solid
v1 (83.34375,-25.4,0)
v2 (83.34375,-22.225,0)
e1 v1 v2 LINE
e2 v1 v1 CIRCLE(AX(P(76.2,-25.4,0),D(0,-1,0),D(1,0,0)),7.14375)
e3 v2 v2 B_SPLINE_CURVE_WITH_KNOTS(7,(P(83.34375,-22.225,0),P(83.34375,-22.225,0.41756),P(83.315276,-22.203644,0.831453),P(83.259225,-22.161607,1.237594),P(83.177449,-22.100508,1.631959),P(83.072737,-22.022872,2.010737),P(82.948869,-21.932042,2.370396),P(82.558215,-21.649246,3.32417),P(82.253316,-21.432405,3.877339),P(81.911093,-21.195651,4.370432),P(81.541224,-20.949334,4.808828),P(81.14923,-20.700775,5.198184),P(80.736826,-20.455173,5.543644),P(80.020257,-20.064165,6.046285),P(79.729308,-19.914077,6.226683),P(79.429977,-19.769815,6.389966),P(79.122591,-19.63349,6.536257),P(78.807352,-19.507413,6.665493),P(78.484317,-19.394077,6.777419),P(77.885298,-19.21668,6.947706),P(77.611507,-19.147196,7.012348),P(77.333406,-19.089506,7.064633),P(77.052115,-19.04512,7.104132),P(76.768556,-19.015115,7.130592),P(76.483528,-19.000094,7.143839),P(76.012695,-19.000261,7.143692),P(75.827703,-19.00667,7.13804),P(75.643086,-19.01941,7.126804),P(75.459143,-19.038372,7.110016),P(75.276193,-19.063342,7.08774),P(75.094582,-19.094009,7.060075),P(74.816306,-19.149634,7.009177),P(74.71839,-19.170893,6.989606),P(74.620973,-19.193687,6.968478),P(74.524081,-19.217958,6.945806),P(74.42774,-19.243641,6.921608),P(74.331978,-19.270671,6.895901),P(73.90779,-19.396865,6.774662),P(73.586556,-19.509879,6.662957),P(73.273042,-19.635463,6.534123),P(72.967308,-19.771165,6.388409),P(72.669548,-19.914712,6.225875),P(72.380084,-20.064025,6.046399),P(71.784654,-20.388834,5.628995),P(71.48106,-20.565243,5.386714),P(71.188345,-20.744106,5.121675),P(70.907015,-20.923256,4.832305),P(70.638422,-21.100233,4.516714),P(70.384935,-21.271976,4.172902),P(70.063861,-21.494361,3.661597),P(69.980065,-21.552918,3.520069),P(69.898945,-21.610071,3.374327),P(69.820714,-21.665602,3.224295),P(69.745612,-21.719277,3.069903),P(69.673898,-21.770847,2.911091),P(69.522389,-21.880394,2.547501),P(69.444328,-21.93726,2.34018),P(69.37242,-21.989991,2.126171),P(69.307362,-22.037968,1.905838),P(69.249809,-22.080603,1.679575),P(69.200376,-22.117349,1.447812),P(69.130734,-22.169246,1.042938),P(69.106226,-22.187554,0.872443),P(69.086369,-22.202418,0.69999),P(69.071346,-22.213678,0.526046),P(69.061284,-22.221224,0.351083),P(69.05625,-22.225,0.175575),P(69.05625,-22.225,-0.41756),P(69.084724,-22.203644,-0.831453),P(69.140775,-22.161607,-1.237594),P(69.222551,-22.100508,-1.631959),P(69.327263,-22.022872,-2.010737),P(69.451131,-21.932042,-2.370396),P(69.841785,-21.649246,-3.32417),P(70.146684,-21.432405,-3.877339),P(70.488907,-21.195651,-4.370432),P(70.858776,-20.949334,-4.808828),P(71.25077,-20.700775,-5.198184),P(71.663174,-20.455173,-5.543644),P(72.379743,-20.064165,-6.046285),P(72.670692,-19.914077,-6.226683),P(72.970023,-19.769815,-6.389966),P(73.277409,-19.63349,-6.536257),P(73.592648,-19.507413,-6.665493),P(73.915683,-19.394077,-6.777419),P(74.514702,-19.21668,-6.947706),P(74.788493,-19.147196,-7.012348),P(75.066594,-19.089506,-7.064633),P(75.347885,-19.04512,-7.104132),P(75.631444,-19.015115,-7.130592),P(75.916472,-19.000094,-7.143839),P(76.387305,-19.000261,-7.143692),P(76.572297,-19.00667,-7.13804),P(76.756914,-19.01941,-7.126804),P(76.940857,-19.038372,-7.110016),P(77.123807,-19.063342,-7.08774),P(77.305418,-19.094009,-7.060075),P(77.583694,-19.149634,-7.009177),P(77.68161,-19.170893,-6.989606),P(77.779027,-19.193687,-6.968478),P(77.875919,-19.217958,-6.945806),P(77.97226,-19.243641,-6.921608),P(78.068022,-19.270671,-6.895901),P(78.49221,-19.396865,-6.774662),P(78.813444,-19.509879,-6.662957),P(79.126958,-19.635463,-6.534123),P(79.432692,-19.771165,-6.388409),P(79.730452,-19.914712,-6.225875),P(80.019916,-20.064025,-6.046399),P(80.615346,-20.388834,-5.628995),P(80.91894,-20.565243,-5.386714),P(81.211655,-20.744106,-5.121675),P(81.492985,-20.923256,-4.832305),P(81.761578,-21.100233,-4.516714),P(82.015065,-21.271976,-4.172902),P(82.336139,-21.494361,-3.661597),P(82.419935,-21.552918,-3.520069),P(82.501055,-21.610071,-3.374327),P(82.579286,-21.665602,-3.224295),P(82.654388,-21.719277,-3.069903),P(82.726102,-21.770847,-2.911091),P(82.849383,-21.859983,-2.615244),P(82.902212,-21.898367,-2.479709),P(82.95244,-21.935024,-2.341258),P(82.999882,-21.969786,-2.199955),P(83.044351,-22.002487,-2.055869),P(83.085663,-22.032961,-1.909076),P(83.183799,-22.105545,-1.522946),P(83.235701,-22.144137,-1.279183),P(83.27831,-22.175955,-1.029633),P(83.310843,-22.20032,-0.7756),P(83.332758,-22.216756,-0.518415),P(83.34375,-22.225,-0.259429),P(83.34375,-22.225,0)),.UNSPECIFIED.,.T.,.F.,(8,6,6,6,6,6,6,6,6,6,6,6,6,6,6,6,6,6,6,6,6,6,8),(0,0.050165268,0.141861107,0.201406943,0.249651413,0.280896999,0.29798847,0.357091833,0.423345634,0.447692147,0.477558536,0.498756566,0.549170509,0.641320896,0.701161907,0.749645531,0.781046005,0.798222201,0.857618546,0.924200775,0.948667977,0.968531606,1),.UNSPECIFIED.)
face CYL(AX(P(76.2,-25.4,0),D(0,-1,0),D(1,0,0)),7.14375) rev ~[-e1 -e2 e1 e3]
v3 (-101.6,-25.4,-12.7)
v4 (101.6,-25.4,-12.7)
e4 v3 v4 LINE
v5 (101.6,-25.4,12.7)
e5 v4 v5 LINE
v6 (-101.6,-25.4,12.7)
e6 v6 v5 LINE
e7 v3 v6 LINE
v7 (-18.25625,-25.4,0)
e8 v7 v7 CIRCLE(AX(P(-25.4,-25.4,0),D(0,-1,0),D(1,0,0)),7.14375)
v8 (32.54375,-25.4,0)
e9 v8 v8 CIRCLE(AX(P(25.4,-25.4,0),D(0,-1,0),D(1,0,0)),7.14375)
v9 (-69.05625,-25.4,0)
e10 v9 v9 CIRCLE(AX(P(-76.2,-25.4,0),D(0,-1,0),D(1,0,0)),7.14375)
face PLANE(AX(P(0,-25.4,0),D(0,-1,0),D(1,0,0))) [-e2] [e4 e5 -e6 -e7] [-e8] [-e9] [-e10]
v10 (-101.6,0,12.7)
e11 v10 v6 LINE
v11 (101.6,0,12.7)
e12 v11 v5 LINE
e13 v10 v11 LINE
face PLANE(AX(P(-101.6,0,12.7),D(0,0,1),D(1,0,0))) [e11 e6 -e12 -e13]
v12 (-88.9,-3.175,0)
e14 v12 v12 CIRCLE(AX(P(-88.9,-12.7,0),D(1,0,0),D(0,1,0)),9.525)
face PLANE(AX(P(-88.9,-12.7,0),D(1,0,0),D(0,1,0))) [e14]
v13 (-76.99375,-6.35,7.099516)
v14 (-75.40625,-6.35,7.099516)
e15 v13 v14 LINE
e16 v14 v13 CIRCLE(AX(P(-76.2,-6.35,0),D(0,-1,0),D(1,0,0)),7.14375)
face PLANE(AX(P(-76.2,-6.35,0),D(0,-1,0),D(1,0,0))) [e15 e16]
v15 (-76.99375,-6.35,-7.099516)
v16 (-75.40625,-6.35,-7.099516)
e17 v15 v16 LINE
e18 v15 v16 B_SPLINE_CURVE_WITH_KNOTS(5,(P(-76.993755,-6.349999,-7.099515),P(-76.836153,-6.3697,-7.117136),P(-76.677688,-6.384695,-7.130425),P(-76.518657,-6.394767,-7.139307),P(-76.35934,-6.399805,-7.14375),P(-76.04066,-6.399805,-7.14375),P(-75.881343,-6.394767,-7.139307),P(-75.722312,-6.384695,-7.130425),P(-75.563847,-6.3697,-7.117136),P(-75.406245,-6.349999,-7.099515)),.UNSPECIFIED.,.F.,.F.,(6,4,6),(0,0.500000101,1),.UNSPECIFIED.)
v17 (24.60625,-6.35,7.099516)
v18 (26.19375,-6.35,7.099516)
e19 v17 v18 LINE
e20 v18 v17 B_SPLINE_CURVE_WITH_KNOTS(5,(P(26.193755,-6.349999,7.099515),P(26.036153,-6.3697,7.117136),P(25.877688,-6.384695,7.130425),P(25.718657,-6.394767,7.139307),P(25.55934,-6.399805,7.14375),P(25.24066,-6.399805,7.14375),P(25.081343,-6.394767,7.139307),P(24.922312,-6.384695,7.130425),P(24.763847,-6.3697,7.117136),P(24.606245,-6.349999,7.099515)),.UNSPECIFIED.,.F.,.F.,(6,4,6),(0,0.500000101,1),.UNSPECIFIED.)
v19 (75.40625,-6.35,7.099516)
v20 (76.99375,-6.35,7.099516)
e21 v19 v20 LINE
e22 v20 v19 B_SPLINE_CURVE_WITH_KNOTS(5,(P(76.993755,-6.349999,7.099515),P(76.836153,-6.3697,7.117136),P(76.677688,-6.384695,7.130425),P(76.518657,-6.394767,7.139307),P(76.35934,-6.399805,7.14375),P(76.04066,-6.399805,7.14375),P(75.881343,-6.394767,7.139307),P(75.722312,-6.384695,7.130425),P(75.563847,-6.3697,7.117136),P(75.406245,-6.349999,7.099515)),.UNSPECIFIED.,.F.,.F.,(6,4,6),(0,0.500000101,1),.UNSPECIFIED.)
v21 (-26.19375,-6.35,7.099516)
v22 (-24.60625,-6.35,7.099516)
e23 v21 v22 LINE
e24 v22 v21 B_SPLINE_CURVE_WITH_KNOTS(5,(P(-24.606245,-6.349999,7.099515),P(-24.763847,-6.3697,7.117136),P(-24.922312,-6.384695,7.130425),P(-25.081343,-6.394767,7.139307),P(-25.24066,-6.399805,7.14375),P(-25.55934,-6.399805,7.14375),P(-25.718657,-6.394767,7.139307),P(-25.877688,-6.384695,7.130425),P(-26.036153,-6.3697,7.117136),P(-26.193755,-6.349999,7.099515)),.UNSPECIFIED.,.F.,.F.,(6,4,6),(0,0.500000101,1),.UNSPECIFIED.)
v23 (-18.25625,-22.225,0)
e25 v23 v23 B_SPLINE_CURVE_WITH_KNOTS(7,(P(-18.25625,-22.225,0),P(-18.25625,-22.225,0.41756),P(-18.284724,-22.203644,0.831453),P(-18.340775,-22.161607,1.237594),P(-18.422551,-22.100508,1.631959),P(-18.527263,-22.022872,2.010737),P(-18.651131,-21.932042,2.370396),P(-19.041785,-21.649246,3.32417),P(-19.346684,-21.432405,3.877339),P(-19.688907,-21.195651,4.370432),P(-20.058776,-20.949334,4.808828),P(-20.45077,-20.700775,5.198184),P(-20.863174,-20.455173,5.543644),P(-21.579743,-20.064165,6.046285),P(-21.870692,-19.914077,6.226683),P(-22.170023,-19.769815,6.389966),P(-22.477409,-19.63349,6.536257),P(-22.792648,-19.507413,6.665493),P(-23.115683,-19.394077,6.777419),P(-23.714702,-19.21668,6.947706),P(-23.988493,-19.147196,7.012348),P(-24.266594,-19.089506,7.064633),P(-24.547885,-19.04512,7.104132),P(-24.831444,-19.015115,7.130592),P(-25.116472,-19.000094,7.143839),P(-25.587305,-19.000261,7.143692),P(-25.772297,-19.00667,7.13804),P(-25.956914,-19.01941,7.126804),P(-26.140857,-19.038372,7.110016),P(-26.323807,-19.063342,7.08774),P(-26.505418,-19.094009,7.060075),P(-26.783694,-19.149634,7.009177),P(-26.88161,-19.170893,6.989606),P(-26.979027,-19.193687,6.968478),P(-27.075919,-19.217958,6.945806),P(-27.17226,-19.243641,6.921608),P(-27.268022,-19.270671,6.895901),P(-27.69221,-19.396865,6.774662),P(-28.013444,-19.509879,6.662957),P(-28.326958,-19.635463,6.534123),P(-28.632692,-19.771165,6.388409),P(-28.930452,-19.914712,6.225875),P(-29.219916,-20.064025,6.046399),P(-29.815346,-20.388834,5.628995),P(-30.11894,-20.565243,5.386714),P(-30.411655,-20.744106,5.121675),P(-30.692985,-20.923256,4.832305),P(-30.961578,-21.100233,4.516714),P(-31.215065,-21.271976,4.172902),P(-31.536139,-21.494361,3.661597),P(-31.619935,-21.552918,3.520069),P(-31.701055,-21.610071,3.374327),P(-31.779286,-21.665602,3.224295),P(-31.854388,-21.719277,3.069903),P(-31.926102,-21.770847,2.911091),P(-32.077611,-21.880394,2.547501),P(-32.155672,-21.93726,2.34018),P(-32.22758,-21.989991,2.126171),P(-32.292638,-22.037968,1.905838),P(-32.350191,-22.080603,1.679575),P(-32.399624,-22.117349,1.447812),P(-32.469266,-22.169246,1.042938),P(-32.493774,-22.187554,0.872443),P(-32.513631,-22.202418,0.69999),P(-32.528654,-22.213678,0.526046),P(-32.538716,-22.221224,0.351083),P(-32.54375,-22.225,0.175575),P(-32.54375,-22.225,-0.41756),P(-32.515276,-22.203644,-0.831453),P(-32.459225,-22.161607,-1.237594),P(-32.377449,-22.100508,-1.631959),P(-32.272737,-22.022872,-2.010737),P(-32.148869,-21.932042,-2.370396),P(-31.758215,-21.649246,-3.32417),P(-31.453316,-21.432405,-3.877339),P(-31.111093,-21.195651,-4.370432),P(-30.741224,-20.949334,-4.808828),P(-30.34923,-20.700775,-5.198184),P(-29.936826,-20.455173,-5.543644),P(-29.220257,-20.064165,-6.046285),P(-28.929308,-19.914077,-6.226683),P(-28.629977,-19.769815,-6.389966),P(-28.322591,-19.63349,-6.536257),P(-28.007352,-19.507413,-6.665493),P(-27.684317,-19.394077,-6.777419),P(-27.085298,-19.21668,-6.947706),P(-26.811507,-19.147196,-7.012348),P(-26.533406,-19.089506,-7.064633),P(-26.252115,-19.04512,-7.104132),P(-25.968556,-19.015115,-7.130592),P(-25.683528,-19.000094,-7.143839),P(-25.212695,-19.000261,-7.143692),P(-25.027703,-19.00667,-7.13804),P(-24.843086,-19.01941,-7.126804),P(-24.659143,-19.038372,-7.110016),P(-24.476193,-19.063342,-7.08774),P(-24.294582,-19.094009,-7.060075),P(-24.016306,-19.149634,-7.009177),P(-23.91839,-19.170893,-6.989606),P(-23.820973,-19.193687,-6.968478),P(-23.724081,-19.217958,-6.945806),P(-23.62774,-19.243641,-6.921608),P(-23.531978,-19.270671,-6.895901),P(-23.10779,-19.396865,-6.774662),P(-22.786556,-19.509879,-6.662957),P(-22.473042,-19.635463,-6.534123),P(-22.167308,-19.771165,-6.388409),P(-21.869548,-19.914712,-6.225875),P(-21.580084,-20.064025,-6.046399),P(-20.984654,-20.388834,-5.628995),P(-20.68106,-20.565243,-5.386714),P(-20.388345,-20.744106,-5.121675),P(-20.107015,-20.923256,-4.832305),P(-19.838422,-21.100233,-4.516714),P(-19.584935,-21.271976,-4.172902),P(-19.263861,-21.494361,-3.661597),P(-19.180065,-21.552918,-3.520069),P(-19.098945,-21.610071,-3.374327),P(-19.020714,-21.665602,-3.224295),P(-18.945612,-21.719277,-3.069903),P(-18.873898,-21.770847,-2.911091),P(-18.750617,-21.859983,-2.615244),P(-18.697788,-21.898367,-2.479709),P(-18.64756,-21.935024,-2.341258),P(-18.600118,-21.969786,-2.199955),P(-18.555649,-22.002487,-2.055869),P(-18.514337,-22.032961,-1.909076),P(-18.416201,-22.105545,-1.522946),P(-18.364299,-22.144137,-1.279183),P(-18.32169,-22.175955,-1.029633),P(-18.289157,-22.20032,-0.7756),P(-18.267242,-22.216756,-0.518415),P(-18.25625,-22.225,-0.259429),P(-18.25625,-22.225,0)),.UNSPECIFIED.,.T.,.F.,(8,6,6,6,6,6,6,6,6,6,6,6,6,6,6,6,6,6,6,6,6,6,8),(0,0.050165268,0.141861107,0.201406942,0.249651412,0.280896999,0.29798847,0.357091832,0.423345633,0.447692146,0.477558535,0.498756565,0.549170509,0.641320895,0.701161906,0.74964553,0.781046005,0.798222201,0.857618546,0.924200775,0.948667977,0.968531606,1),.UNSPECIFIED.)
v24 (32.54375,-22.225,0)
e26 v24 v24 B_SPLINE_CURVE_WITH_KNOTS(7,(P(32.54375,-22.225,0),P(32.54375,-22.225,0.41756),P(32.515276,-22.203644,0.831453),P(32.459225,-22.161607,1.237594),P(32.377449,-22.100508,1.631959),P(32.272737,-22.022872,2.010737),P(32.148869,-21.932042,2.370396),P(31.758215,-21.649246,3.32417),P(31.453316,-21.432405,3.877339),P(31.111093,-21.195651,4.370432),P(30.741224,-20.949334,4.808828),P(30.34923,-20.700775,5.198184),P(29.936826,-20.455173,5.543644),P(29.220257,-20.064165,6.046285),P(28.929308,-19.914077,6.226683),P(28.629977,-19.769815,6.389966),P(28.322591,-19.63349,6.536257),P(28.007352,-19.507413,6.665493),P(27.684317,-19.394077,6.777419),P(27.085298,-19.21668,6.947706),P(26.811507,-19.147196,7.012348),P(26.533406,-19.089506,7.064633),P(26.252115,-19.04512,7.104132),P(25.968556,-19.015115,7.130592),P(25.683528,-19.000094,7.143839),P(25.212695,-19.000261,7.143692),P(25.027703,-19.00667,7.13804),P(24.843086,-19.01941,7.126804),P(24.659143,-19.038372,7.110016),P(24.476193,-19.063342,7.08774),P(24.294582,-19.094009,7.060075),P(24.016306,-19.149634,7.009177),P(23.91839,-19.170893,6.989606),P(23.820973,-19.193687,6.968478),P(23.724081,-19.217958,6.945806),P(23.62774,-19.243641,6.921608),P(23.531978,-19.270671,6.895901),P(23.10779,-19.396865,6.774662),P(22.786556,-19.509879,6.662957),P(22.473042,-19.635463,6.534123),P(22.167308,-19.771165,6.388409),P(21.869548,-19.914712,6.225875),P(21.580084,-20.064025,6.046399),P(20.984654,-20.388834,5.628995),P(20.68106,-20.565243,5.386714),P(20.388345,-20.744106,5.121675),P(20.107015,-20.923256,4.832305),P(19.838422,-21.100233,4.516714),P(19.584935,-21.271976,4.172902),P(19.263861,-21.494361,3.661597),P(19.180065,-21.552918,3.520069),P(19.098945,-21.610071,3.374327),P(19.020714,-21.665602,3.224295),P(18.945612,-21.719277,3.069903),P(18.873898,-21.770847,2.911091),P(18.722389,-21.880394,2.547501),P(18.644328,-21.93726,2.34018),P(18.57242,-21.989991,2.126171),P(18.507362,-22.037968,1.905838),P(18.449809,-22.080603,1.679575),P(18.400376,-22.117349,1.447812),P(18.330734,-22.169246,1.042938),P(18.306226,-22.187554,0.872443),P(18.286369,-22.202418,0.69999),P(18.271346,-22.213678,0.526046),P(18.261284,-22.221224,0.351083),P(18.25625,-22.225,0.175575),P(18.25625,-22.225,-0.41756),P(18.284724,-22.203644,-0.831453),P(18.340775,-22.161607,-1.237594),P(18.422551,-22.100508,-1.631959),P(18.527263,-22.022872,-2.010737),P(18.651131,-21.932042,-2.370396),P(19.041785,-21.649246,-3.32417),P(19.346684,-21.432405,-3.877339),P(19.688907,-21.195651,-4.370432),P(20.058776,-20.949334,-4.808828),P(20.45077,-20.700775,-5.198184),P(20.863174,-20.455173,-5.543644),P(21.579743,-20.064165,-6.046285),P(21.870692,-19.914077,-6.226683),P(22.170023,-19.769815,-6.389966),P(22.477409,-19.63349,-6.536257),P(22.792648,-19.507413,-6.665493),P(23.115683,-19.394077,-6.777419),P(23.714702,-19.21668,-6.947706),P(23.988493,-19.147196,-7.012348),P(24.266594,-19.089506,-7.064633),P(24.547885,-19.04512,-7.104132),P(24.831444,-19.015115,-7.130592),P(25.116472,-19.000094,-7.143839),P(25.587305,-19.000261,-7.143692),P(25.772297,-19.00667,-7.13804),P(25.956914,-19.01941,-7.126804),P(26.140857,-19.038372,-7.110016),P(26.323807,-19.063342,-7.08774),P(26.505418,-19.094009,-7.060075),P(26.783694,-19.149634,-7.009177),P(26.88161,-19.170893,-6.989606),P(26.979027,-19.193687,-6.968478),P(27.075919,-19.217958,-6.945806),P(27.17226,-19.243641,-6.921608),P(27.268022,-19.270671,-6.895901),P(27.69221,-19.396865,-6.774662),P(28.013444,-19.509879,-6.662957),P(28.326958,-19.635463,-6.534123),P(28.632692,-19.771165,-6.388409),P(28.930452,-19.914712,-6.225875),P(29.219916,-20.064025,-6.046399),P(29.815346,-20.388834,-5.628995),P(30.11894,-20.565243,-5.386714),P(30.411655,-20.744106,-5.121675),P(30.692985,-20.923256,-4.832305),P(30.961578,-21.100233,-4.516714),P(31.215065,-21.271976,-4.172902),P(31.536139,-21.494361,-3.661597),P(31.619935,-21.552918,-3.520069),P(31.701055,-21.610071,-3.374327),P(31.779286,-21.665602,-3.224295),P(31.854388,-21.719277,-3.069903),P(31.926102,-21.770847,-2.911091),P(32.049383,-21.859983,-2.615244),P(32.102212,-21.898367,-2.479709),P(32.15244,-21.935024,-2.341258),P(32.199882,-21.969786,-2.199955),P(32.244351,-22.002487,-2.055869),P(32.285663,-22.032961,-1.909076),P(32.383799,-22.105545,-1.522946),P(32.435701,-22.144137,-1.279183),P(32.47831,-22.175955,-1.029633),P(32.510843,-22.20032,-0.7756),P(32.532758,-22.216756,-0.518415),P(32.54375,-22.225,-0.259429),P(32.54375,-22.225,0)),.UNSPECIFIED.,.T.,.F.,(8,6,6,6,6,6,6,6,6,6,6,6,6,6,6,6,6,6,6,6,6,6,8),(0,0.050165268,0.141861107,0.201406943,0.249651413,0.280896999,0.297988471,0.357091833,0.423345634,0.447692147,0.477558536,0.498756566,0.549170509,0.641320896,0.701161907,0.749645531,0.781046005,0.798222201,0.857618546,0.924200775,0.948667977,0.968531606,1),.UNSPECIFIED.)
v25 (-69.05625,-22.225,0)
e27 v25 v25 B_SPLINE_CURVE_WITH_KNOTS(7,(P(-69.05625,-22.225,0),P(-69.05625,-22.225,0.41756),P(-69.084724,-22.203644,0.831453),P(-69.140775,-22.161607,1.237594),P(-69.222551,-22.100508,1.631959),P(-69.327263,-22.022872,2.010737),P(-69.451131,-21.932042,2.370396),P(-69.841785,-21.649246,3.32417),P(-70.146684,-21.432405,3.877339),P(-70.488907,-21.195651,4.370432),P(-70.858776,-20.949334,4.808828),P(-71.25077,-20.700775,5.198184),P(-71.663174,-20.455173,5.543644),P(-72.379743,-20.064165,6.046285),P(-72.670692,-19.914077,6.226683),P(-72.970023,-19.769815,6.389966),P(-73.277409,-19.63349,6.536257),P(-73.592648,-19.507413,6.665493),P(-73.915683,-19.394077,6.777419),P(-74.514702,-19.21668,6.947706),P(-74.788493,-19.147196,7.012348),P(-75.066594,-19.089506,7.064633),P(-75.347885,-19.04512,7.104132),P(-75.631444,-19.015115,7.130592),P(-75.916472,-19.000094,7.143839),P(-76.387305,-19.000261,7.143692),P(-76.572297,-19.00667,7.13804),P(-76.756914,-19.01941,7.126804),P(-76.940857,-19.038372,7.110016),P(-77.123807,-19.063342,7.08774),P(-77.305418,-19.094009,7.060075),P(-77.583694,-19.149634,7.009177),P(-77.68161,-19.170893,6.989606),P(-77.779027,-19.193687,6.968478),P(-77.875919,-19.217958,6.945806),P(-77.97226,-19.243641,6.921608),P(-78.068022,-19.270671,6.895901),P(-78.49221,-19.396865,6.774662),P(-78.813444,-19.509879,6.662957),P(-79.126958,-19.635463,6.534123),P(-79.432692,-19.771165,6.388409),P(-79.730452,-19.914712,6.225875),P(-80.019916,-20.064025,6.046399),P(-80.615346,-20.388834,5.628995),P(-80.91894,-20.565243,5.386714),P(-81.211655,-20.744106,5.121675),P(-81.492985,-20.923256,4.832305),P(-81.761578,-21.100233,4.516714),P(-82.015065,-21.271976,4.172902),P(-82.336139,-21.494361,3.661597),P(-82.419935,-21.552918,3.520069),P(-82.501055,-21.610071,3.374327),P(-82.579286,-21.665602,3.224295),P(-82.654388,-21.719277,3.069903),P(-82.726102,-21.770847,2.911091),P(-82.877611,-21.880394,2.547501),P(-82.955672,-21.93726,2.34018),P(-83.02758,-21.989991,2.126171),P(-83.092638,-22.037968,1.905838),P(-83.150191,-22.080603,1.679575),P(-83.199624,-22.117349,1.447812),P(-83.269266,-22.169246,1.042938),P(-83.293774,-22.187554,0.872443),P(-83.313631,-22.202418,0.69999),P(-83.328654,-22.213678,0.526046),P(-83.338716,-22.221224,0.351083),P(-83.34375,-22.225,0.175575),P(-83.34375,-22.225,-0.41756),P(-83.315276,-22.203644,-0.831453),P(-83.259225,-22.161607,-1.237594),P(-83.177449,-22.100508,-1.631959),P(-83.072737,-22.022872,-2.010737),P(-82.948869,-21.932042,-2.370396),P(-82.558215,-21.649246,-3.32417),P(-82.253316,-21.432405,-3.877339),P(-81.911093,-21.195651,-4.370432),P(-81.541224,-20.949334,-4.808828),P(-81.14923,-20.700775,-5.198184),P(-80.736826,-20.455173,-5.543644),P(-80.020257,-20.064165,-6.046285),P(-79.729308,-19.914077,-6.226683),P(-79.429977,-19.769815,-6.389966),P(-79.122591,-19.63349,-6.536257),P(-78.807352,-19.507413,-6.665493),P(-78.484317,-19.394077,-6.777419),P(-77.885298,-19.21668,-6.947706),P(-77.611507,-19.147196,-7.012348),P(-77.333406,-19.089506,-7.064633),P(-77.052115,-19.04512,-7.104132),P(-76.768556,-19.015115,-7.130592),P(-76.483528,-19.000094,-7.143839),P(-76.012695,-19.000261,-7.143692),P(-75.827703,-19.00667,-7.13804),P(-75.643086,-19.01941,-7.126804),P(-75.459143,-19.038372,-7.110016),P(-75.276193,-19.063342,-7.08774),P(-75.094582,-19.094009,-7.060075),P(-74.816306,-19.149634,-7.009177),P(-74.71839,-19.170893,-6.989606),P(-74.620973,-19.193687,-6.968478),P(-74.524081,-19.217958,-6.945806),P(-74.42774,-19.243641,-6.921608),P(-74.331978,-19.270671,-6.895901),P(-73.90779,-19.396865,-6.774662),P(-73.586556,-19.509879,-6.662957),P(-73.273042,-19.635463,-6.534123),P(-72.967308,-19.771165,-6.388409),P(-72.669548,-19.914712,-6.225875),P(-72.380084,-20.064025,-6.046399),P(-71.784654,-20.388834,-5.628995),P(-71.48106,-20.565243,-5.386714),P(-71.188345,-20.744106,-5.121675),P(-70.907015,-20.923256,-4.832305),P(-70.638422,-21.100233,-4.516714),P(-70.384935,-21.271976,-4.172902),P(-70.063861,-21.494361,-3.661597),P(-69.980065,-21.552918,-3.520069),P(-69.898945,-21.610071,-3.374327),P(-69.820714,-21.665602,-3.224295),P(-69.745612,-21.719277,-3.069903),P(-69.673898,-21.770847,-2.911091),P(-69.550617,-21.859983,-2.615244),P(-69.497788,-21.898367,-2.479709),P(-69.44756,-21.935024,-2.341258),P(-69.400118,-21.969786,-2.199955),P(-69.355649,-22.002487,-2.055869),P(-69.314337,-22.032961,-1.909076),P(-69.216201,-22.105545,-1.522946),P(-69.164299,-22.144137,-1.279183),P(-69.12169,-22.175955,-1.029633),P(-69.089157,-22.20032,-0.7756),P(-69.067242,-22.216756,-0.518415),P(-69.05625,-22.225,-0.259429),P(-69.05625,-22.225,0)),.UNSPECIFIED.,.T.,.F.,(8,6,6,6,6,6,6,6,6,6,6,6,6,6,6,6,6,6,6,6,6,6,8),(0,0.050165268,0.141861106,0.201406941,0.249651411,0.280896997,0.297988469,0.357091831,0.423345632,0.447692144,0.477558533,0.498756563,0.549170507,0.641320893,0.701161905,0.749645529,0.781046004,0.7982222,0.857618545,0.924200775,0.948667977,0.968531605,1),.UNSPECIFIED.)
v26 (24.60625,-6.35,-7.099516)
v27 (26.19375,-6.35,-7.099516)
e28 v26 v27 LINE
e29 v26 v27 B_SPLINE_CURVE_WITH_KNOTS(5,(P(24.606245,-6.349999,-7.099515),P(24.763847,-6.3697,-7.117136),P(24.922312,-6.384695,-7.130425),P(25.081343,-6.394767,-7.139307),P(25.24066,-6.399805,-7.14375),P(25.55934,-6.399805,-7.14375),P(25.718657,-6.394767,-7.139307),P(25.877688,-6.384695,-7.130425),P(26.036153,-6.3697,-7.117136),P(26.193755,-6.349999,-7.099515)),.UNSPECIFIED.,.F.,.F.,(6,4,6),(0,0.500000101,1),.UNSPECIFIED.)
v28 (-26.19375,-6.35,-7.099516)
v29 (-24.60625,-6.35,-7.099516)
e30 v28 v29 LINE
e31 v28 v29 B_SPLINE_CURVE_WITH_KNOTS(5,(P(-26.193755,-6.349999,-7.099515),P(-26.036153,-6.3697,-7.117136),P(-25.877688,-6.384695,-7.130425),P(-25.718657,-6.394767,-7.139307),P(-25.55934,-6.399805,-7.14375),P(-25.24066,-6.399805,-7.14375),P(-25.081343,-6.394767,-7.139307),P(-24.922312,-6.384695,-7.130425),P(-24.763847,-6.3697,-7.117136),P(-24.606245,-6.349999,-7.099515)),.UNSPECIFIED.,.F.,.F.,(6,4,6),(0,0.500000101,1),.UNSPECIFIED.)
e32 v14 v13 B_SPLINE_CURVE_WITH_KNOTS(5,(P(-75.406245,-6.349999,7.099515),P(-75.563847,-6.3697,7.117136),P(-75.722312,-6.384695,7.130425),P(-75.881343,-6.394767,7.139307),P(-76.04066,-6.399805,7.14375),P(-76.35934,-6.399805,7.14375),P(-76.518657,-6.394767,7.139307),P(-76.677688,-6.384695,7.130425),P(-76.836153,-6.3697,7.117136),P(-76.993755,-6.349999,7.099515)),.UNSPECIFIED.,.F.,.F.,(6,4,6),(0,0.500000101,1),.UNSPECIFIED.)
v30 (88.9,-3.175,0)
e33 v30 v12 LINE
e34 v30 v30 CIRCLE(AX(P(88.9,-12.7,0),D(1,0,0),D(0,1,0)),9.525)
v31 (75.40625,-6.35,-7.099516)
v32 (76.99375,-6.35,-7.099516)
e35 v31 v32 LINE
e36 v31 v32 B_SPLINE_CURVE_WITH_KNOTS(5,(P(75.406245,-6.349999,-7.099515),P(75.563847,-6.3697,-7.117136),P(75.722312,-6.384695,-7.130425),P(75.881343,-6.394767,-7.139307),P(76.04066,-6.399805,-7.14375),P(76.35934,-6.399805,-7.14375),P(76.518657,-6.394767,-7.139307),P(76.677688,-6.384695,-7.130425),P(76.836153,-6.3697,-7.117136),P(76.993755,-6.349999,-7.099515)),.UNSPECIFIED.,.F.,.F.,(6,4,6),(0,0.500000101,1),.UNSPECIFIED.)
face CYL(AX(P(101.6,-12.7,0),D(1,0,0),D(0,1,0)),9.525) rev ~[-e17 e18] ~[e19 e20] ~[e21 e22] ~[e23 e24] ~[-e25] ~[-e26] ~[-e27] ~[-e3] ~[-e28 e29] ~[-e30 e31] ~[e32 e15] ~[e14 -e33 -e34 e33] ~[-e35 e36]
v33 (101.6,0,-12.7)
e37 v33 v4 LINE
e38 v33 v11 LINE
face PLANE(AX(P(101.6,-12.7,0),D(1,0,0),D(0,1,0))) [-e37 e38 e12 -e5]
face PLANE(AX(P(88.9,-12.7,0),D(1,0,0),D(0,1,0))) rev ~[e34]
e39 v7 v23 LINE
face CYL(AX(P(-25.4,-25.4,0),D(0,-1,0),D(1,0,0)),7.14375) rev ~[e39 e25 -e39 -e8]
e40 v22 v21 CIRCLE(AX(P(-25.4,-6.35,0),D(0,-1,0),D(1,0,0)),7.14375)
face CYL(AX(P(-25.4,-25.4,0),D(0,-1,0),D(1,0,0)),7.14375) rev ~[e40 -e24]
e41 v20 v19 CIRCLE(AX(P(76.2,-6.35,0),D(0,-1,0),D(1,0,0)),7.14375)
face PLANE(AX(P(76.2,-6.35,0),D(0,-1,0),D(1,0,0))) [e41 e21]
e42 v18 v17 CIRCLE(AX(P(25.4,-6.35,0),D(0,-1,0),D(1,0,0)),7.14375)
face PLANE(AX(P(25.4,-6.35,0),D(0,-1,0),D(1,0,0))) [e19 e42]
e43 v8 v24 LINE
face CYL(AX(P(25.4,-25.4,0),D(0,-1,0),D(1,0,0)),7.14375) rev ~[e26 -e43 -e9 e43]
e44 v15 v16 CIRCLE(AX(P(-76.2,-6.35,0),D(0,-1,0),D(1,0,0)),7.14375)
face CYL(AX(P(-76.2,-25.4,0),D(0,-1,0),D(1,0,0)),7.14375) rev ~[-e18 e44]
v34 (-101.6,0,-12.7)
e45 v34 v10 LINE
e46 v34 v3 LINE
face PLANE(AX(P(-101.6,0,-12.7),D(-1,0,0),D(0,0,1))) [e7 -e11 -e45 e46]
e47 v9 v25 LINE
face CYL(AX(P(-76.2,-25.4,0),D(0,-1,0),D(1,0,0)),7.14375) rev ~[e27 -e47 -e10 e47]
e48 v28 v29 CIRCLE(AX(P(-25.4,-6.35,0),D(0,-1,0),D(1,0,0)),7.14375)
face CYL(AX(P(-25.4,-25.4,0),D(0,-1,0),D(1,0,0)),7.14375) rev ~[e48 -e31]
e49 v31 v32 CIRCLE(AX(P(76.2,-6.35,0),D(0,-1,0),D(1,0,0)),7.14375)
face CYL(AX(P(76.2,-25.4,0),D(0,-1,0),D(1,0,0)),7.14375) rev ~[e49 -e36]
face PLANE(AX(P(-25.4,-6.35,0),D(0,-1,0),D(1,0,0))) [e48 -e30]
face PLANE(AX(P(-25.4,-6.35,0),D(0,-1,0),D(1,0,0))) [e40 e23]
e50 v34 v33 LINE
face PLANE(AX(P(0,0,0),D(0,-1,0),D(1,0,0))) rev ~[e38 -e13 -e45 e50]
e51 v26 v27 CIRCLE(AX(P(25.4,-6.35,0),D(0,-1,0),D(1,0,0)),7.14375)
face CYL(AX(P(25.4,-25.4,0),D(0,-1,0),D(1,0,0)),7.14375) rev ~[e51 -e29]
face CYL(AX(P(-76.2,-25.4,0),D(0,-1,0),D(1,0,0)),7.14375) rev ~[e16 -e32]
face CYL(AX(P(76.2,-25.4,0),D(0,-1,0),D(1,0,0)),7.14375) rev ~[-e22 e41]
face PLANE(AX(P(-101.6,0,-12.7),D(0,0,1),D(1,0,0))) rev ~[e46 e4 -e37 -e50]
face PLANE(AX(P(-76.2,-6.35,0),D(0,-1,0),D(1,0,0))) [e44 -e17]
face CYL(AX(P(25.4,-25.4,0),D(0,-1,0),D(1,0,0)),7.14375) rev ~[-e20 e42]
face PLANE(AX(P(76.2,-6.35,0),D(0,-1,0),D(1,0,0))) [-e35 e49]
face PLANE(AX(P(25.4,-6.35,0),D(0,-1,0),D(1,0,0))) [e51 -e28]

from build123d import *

# Parameters (mm, degrees)
F0_W     = 203.2
F0_H     = 25.4
F1_DEPTH = 25.4
F3_R     = 9.525
F4_DEPTH = 190.5
F5_R     = 9.525
F6_DEPTH = 12.7
F2_R     = 7.14375
F7_DEPTH = 19.05


with BuildPart() as f1:
    # F0 (on Front) → F1 (new body)
    with BuildSketch(Plane.XZ):
        Rectangle(F0_W, F0_H)
    extrude(amount=F1_DEPTH)

    # F3 (on face) → F4 (cut)
    with BuildSketch(Plane.YZ.offset(101.6)):
        with Locations((-12.7, 0)):
            Circle(F3_R)
    extrude(amount=-F4_DEPTH, mode=Mode.SUBTRACT)

    # F5 (on face) → F6 (join)
    with BuildSketch(Plane.YZ.offset(101.6)):
        with Locations((-12.7, 0)):
            Circle(F5_R)
    extrude(amount=-F6_DEPTH)

    # F2 (on face) → F7 (cut)
    with BuildSketch(Plane.XZ.offset(25.4)):
        with Locations((-76.2, 0)):
            Circle(F2_R)
        with Locations((-25.4, 0)):
            Circle(F2_R)
        with Locations((25.4, 0)):
            Circle(F2_R)
        with Locations((76.2, 0)):
            Circle(F2_R)
    extrude(amount=-F7_DEPTH, mode=Mode.SUBTRACT)


solid = f1.part
